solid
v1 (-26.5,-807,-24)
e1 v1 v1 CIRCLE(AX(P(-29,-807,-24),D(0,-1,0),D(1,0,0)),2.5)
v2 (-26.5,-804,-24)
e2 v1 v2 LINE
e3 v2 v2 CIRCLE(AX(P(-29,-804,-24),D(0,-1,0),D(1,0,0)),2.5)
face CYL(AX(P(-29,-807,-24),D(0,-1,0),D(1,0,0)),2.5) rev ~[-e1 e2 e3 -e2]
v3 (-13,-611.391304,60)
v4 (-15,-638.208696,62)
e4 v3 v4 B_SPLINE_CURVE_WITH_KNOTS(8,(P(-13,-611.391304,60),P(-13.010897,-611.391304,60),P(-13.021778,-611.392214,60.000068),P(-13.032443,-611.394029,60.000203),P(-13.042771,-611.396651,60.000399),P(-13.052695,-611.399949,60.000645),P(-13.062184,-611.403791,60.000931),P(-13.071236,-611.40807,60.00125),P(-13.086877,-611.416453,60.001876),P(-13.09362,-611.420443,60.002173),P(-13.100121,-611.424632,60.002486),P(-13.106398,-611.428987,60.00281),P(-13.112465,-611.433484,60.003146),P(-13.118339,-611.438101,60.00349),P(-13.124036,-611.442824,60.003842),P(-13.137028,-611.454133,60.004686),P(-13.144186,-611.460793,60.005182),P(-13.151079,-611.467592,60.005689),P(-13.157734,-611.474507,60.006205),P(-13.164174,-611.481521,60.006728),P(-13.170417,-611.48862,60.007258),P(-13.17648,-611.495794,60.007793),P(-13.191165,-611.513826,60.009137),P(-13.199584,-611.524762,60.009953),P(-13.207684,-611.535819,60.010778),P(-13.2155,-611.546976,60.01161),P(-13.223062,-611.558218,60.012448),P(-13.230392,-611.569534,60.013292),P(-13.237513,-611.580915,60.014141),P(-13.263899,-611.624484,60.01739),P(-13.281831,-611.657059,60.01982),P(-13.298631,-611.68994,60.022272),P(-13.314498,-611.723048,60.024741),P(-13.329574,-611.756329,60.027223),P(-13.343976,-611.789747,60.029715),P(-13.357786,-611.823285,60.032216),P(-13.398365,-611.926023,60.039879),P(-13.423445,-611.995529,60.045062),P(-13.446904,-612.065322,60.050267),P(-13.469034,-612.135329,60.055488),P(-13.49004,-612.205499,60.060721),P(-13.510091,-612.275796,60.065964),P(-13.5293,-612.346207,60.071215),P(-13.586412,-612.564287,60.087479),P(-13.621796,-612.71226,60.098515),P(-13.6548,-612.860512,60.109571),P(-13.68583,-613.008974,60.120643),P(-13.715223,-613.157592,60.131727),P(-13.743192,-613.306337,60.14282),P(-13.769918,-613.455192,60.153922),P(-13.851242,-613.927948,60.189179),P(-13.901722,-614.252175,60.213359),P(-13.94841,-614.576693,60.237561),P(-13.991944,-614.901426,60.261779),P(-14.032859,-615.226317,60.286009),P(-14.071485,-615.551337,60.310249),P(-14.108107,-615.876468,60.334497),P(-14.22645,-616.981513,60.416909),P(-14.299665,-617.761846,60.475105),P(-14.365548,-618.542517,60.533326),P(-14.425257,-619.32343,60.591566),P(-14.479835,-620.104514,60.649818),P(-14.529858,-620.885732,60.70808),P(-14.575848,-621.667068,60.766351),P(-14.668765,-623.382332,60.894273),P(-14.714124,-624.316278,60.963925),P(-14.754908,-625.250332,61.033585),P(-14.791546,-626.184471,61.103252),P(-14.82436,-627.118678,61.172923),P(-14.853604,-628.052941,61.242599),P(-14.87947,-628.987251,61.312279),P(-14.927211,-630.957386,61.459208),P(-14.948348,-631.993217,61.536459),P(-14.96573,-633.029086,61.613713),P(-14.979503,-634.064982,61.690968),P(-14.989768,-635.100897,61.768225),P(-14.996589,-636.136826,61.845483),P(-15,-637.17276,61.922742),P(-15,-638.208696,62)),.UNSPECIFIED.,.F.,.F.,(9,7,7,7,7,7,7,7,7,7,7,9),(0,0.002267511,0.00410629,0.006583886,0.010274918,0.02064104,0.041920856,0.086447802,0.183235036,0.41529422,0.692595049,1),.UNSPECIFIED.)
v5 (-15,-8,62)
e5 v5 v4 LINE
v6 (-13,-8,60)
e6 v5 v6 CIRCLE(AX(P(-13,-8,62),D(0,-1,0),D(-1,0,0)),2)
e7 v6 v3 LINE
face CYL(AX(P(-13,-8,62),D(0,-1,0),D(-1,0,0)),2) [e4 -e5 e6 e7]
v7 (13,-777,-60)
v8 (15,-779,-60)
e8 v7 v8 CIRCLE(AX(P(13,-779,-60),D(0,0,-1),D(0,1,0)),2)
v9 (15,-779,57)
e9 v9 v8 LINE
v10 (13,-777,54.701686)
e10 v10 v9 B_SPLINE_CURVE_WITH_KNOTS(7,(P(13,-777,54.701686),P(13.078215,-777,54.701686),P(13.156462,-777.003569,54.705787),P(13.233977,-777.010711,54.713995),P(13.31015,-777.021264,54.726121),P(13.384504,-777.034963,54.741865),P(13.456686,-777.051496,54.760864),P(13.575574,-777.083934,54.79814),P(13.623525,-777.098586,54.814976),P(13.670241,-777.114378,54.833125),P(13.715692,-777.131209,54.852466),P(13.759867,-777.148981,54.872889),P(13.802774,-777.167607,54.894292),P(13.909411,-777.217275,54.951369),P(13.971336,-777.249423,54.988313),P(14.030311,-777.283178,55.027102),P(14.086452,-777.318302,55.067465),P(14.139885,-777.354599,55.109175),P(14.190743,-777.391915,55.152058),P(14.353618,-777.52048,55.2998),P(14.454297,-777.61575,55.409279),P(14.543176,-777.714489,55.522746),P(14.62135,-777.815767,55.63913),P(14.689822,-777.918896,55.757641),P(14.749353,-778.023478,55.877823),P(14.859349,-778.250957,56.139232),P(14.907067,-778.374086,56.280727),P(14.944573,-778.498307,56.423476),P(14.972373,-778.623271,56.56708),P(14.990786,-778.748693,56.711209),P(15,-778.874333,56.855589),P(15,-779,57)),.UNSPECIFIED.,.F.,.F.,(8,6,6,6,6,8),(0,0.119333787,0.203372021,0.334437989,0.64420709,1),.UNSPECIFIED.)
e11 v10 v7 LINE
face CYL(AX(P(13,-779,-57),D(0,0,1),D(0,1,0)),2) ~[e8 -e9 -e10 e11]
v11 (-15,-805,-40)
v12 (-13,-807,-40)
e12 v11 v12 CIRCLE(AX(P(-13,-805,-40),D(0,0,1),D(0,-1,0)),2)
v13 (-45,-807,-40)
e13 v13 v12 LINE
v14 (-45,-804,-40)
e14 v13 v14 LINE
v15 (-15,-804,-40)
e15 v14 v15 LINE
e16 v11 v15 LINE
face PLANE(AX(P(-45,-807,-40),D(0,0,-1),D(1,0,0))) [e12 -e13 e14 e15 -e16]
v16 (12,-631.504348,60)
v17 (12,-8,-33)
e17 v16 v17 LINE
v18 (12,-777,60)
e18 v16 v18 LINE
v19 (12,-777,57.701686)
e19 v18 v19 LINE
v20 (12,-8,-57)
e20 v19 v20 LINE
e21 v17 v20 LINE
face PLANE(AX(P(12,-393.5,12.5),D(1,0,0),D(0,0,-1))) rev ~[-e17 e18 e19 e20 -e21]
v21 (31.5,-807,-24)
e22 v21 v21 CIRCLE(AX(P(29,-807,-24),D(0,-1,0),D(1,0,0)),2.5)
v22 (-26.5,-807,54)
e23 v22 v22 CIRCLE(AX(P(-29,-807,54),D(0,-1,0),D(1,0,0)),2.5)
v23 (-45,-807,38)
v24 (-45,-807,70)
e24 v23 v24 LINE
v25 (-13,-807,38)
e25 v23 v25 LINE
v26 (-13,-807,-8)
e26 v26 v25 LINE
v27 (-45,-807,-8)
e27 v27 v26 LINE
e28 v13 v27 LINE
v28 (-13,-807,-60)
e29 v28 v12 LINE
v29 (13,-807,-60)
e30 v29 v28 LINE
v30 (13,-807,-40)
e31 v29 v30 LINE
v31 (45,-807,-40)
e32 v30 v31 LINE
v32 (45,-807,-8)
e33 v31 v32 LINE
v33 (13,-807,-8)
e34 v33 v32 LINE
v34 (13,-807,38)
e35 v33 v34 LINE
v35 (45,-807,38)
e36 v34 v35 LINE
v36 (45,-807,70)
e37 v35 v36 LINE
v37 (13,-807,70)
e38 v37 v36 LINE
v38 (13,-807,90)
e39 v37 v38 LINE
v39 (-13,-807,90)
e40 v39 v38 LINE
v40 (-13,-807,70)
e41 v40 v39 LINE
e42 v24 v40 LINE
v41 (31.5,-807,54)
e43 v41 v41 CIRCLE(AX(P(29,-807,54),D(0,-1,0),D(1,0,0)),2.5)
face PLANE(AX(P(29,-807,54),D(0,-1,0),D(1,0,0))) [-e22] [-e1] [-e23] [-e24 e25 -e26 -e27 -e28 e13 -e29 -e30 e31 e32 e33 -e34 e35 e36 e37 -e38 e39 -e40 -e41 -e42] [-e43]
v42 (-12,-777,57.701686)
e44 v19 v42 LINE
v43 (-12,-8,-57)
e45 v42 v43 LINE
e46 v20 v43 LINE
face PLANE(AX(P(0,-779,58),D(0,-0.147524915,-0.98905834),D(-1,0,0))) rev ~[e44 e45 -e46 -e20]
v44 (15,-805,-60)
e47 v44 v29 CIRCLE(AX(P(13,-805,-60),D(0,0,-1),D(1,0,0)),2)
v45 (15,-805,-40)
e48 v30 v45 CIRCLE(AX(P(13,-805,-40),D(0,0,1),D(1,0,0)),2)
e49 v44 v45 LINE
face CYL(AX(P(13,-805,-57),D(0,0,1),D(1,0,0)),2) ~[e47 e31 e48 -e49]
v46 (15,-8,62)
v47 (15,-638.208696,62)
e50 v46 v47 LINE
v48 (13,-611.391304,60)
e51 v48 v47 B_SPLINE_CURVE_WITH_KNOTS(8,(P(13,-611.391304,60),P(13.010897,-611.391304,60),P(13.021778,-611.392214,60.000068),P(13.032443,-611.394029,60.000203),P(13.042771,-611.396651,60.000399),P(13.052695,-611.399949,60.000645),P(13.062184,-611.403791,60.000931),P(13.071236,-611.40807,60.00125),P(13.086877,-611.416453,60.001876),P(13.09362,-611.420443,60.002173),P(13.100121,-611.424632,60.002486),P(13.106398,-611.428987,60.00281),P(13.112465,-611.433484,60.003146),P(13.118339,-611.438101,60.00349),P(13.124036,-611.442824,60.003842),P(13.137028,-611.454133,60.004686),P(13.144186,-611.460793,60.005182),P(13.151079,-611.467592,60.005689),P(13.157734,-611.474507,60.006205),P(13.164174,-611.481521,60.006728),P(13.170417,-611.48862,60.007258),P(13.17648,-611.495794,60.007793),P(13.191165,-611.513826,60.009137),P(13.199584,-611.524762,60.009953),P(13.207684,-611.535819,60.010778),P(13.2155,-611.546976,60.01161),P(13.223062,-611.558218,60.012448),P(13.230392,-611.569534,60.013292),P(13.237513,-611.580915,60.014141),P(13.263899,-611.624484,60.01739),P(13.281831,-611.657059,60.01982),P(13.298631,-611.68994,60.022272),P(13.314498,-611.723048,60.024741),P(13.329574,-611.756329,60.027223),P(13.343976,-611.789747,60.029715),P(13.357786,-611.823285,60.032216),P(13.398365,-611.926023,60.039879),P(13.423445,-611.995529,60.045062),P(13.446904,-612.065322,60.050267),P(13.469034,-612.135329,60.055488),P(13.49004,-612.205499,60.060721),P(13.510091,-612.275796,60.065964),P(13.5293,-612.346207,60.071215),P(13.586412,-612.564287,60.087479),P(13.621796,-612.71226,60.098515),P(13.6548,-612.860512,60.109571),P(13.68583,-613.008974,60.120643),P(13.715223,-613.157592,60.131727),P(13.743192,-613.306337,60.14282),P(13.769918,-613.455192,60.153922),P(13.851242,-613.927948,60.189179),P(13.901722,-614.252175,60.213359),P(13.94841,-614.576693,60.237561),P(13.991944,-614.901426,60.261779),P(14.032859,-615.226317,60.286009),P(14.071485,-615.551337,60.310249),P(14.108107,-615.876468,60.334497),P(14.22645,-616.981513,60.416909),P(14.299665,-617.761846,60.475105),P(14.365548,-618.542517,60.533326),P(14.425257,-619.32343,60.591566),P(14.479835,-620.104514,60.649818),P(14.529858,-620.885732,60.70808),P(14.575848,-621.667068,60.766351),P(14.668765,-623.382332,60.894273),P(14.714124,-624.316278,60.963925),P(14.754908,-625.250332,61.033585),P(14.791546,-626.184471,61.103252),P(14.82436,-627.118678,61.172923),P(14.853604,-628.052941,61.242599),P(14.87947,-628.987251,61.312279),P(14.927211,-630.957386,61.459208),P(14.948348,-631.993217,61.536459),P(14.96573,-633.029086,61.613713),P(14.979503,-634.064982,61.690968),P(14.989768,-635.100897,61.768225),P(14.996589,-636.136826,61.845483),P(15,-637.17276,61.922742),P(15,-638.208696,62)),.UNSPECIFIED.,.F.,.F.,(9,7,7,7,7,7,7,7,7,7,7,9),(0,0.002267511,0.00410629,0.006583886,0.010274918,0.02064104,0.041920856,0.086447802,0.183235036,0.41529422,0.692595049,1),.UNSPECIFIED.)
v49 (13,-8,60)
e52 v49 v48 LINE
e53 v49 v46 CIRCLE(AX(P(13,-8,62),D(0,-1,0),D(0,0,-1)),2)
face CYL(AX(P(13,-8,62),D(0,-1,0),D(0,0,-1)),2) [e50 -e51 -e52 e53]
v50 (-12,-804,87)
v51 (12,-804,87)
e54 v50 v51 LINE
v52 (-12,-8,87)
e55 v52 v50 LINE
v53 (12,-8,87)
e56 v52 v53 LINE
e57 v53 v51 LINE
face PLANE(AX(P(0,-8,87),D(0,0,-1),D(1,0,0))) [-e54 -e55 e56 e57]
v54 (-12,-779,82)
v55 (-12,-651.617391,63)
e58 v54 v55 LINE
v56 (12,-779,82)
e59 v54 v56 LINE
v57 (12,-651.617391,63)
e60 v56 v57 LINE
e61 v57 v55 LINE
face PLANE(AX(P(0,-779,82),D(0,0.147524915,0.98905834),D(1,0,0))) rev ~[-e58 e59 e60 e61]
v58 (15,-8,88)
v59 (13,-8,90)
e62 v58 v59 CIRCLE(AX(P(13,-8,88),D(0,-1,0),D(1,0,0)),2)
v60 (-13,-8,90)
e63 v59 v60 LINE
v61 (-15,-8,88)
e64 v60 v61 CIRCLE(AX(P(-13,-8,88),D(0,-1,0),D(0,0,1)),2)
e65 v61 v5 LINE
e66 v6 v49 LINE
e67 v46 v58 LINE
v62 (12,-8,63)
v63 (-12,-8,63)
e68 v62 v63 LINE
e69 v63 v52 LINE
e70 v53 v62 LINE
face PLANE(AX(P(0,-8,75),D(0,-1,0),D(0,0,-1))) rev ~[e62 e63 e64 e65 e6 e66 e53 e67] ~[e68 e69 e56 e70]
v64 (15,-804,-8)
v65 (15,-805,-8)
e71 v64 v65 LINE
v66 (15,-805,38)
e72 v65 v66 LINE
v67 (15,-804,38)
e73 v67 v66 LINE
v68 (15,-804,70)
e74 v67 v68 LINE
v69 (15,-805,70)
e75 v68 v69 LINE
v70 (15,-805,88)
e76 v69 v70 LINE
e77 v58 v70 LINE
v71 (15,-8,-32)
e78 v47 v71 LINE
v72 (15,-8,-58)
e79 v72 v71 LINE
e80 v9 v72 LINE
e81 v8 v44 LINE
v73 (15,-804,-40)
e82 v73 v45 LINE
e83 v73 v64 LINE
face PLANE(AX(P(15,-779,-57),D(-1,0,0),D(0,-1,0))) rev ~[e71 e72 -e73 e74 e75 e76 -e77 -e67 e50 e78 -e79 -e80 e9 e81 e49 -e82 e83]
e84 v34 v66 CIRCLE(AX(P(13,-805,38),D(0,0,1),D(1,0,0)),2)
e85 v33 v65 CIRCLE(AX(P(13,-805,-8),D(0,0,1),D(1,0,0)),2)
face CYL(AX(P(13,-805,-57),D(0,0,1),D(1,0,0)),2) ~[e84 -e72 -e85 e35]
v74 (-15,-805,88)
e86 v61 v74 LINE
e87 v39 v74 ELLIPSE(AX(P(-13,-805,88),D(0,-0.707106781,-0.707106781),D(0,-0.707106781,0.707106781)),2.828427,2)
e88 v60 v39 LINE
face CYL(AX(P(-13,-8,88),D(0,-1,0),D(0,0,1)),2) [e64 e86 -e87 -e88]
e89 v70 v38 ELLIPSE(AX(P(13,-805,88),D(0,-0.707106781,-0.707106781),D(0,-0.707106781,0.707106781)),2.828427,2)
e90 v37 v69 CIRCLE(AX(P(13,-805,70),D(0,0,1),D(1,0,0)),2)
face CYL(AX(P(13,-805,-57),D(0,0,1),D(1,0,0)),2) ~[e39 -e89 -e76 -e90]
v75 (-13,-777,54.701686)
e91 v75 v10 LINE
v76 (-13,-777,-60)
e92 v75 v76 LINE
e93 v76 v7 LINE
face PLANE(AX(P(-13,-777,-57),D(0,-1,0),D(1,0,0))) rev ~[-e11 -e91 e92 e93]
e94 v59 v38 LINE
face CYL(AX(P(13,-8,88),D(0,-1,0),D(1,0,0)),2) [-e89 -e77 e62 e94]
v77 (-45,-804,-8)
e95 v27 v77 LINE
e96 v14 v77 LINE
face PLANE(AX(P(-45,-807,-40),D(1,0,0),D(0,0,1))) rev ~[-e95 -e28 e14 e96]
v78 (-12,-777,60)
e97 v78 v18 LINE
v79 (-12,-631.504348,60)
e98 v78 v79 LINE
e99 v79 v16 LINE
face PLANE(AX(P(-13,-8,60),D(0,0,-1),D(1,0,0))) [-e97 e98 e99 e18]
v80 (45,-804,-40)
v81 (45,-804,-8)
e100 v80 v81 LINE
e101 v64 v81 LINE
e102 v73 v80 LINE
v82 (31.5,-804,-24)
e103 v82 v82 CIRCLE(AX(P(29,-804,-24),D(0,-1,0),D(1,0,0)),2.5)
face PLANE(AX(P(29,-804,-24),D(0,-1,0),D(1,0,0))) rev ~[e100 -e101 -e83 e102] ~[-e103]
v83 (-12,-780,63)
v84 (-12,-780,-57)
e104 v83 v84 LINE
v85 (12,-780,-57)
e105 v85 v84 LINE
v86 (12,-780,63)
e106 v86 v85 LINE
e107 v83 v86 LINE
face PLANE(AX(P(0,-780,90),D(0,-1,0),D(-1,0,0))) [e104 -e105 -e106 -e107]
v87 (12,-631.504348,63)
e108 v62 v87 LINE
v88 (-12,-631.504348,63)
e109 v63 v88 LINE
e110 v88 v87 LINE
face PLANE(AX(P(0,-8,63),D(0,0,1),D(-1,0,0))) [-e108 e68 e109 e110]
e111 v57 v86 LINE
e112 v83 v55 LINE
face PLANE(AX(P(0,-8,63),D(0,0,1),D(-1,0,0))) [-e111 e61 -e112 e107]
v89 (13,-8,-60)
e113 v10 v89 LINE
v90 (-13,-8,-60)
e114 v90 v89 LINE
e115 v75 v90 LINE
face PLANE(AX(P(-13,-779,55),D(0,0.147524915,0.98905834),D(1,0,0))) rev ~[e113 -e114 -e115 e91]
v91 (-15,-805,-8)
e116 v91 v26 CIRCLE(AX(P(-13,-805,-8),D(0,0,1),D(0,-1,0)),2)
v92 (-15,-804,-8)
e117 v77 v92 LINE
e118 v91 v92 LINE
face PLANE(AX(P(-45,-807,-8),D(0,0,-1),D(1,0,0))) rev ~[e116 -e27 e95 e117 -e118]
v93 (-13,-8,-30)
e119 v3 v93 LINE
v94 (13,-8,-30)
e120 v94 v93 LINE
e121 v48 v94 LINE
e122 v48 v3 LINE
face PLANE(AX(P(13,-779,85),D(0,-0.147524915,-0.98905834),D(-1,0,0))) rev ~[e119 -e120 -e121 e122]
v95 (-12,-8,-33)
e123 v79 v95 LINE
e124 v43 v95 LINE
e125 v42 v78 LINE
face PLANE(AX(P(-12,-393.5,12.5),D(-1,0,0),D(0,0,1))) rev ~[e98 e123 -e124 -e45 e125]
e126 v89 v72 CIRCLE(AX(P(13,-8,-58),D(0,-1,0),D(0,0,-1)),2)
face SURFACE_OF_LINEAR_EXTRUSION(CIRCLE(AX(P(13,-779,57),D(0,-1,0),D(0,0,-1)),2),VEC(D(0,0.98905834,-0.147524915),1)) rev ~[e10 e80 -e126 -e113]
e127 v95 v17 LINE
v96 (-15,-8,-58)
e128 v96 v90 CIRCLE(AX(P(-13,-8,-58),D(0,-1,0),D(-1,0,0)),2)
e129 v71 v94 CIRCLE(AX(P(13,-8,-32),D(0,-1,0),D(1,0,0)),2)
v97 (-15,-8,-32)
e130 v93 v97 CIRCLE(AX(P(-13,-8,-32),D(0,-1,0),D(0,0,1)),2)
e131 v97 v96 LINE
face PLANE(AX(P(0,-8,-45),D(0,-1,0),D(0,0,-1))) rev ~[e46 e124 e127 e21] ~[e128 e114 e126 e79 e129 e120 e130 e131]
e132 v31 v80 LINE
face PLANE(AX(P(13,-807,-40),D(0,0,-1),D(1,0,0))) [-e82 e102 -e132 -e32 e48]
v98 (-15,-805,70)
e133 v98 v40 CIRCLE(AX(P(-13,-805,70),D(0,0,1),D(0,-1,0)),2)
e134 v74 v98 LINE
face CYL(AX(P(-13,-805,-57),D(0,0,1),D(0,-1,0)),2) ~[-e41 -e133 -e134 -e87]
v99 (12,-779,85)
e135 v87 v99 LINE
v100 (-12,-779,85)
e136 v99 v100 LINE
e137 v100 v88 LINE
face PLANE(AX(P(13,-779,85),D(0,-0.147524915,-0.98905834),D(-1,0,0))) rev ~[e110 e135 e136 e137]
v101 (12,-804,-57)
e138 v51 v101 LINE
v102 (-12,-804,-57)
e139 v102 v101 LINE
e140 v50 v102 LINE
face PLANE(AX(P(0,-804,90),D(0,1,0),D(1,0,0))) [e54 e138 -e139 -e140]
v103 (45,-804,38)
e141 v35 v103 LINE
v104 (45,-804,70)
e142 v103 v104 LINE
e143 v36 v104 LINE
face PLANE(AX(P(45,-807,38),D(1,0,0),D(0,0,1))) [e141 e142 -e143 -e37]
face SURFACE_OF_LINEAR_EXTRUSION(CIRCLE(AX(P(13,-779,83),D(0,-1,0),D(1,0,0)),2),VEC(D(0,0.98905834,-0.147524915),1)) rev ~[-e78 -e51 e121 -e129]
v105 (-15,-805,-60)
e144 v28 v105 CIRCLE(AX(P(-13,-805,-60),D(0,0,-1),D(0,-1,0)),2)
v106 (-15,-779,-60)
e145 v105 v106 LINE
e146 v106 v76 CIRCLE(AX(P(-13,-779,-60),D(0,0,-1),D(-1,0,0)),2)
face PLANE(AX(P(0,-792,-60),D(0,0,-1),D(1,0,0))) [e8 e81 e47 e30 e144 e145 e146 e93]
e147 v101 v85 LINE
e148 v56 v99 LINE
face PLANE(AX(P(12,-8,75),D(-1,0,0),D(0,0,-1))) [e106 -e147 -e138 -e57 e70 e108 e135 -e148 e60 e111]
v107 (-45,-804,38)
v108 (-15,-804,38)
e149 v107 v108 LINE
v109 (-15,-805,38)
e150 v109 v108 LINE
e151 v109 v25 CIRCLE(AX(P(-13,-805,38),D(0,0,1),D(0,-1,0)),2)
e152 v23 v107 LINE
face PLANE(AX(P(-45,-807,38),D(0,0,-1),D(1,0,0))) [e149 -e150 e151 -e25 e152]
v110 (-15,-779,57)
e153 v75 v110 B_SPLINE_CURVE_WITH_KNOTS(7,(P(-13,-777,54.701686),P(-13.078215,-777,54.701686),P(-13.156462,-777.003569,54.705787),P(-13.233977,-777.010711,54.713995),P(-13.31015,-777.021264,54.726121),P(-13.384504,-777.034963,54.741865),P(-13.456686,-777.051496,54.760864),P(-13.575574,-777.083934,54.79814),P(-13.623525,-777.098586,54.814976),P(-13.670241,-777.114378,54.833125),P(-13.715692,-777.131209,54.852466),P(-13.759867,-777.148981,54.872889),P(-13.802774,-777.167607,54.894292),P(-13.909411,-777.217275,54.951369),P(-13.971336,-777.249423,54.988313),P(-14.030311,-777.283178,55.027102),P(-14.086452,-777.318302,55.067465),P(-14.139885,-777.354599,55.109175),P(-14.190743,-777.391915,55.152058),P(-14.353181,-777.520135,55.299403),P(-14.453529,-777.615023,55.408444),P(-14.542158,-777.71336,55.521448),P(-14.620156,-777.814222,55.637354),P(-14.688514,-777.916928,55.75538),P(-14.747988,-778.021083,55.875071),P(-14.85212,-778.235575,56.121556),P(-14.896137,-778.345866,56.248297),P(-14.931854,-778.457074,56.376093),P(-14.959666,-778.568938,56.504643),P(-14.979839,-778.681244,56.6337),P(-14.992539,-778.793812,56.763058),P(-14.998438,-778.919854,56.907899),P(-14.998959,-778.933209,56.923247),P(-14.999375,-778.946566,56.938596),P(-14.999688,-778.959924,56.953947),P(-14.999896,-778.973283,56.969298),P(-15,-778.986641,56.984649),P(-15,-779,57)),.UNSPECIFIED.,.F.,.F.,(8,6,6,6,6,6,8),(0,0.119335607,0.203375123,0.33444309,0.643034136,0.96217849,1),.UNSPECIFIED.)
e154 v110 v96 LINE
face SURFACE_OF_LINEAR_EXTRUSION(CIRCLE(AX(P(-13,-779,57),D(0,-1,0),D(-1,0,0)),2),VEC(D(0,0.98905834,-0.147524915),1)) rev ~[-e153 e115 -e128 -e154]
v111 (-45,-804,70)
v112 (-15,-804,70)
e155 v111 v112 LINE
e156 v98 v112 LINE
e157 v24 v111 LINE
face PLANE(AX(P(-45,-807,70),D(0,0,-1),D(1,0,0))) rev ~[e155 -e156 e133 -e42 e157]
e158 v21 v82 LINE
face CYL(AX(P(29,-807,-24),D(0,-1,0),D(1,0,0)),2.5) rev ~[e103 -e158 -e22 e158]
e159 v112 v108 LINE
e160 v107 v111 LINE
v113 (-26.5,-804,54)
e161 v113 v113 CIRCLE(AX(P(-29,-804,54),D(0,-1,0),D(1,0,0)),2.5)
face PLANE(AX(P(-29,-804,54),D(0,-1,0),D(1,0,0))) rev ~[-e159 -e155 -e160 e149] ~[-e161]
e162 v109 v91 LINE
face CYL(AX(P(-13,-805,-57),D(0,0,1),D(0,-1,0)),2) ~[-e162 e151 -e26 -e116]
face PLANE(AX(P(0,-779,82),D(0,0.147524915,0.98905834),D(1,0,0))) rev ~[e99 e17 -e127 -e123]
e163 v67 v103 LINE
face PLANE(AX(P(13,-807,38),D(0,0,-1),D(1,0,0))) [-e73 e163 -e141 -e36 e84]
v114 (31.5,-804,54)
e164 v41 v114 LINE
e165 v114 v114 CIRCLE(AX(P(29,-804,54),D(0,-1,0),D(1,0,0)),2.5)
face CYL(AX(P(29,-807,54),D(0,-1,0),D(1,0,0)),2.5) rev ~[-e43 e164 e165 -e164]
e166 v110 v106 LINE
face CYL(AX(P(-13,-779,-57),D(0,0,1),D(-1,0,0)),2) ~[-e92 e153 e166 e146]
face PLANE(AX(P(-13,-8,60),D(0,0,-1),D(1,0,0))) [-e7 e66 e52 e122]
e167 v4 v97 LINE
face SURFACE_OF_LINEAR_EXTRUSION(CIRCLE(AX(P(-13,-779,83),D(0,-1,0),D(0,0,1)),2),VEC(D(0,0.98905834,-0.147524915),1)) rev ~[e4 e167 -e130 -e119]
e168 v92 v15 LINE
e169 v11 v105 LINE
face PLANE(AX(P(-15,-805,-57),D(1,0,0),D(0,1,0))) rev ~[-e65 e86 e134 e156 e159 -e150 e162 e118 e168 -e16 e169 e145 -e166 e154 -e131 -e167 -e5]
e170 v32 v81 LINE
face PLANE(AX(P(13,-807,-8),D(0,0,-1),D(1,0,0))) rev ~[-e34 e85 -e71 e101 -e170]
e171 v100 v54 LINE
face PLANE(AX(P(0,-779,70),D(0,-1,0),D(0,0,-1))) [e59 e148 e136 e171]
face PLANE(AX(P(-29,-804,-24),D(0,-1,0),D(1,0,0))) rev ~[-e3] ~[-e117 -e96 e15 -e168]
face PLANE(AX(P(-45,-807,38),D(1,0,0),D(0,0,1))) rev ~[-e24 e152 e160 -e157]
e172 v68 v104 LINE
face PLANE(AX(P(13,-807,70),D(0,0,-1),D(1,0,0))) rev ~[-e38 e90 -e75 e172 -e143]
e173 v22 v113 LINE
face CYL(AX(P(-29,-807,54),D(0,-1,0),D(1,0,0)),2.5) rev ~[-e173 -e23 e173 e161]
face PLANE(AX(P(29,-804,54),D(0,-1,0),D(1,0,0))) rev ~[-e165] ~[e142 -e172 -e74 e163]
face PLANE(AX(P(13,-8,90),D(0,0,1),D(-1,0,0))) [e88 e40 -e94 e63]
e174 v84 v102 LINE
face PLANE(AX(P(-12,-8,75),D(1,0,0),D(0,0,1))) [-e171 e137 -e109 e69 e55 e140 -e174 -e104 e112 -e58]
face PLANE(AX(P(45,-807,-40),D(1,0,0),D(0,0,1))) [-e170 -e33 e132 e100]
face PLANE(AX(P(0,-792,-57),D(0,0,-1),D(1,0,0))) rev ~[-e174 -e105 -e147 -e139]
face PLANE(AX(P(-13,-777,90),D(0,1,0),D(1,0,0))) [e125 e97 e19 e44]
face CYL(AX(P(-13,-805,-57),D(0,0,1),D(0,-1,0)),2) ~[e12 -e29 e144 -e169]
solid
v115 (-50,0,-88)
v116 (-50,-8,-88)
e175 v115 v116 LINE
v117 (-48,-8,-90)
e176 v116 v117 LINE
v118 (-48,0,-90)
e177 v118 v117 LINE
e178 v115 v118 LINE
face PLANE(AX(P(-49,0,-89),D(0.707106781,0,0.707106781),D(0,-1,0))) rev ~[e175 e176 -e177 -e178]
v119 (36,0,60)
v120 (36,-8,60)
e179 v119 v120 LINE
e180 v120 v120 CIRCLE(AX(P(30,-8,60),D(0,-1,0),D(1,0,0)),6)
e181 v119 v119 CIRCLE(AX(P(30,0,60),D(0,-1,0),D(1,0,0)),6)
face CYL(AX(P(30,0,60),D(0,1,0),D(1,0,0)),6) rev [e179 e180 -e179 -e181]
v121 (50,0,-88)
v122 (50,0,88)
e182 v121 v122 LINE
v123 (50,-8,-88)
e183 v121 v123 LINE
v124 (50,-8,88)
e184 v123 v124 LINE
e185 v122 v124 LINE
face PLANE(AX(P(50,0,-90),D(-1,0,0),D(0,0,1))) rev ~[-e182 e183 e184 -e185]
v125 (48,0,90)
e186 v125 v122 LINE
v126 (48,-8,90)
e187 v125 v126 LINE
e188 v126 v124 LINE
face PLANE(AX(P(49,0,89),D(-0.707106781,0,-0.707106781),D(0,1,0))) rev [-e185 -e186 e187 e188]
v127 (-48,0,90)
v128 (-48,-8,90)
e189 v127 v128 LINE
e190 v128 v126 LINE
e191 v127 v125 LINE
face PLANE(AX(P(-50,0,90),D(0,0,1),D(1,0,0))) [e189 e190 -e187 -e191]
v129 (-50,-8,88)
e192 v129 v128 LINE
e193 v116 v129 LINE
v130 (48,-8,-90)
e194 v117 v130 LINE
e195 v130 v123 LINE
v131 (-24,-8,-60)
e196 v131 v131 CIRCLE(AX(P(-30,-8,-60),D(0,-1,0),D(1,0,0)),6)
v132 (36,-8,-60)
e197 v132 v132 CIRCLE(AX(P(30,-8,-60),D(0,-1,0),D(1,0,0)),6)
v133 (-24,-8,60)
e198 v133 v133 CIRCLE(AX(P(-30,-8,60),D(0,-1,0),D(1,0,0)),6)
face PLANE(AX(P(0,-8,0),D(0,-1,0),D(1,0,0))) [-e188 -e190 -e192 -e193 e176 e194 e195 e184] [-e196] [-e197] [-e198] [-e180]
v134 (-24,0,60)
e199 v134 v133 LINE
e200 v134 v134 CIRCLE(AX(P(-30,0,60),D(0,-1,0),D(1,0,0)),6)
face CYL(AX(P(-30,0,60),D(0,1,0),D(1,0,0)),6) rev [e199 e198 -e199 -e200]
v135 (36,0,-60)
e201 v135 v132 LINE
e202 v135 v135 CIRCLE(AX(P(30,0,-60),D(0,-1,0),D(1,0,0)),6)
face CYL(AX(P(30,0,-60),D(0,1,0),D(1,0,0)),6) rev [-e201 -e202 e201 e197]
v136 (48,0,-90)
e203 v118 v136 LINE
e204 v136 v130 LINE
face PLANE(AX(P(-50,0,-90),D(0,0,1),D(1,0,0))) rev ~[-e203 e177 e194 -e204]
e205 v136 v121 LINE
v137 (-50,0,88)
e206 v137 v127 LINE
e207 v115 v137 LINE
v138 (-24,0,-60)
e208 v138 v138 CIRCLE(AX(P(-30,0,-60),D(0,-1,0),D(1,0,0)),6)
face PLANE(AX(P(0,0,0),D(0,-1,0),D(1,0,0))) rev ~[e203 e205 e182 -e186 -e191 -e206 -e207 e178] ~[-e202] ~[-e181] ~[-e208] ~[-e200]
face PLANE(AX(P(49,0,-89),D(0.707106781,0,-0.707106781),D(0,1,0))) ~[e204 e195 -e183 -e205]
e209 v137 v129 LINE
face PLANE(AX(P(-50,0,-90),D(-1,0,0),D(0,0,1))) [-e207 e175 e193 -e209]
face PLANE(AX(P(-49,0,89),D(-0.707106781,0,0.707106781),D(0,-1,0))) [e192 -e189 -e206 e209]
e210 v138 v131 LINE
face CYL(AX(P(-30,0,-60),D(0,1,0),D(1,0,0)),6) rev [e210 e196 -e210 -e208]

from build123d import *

# Parameters (mm, degrees)
F0_W      = 100
F0_H      = 180
F0_R      = 6
F1_DEPTH  = 8
F2_SIZE   = 2
F4_W      = 24
F4_H      = 24
F8_DEPTH  = 3
F9_W      = 32
F9_H      = 32
F9_R      = 2.5
F10_DEPTH = 3


with BuildPart() as f1:
    # F0 (on Front) → F1 (new body)
    with BuildSketch(Plane.XZ):
        Rectangle(F0_W, F0_H)
        with Locations((-30, -60)):
            Circle(F0_R, mode=Mode.SUBTRACT)
        with Locations((30, -60)):
            Circle(F0_R, mode=Mode.SUBTRACT)
        with Locations((-30, 60)):
            Circle(F0_R, mode=Mode.SUBTRACT)
        with Locations((30, 60)):
            Circle(F0_R, mode=Mode.SUBTRACT)
    extrude(amount=F1_DEPTH)

    # F2
    f2_edges = [f1.edges().sort_by_distance(p)[0] for p in [
        (50, -4, 90),
        (50, -4, -90),
        (-50, -4, -90),
        (-50, -4, 90),
    ]]
    chamfer(f2_edges, length=F2_SIZE)


with BuildPart() as f5:
    # F5: sweep along a path in F3
    with BuildLine(Plane.YZ) as f5_path:
        Line((-8, 90), (-807, 90))
        Line((-807, 90), (-807, -57))
    # F4 (on face) → F5 (sweep)
    with BuildSketch(Plane.XZ.offset(8)):
        with BuildLine():
            Line((13, 90), (-13, 90))
            ThreePointArc((-13, 90), (-14.4142135624, 89.4142135624), (-15, 88))
            Line((-15, 88), (-15, 62))
            ThreePointArc((-15, 62), (-14.4142135624, 60.5857864376), (-13, 60))
            Line((-13, 60), (13, 60))
            ThreePointArc((13, 60), (14.4142135624, 60.5857864376), (15, 62))
            Line((15, 62), (15, 88))
            ThreePointArc((15, 88), (14.4142135624, 89.4142135624), (13, 90))
        make_face()
        with Locations((0, 75)):
            Rectangle(F4_W, F4_H, mode=Mode.SUBTRACT)
    sweep(path=f5_path.line, transition=Transition.RIGHT)

    # F6: sweep along a path in F3
    with BuildLine(Plane.YZ) as f6_path:
        Line((-779, 55), (-8, -60))
    # F4 (on face) → F6 (sweep)
    with BuildSketch(Plane.XZ.offset(8)):
        with BuildLine():
            Line((13, -30), (-13, -30))
            ThreePointArc((-13, -30), (-14.4142135624, -30.5857864376), (-15, -32))
            Line((-15, -32), (-15, -58))
            ThreePointArc((-15, -58), (-14.4142135624, -59.4142135624), (-13, -60))
            Line((-13, -60), (13, -60))
            ThreePointArc((13, -60), (14.4142135624, -59.4142135624), (15, -58))
            Line((15, -58), (15, -32))
            ThreePointArc((15, -32), (14.4142135624, -30.5857864376), (13, -30))
        make_face()
        with Locations((0, -45)):
            Rectangle(F4_W, F4_H, mode=Mode.SUBTRACT)
    sweep(path=f6_path.line)

    # F7 (on face) → F8 (join)
    with BuildSketch(Plane(origin=(0, 0, -57), x_dir=(1, 0, 0), z_dir=(0, 0, -1))):
        with BuildLine():
            ThreePointArc((-13, 807), (-14.4142135624, 806.4142135624), (-15, 805))
            Line((-15, 805), (-15, 779))
            ThreePointArc((-15, 779), (-14.4142135624, 777.5857864376), (-13, 777))
            Line((-13, 777), (13, 777))
            ThreePointArc((13, 777), (14.4142135624, 777.5857864376), (15, 779))
            Line((15, 779), (15, 805))
            ThreePointArc((15, 805), (14.4142135624, 806.4142135624), (13, 807))
            Line((13, 807), (-13, 807))
        make_face()
    extrude(amount=F8_DEPTH)

    # F9 (on face) → F10 (join)
    with BuildSketch(Plane.XZ.offset(807)):
        with Locations((29, 54)):
            Rectangle(F9_W, F9_H)
        with Locations((29, 54)):
            Circle(F9_R, mode=Mode.SUBTRACT)
        with Locations((29, -24)):
            Rectangle(F9_W, F9_H)
        with Locations((29, -24)):
            Circle(F9_R, mode=Mode.SUBTRACT)
        with Locations((-29, 54)):
            Rectangle(F9_W, F9_H)
        with Locations((-29, 54)):
            Circle(F9_R, mode=Mode.SUBTRACT)
        with Locations((-29, -24)):
            Rectangle(F9_W, F9_H)
        with Locations((-29, -24)):
            Circle(F9_R, mode=Mode.SUBTRACT)
    extrude(amount=-F10_DEPTH)


solid = Compound([f1.part, f5.part])
